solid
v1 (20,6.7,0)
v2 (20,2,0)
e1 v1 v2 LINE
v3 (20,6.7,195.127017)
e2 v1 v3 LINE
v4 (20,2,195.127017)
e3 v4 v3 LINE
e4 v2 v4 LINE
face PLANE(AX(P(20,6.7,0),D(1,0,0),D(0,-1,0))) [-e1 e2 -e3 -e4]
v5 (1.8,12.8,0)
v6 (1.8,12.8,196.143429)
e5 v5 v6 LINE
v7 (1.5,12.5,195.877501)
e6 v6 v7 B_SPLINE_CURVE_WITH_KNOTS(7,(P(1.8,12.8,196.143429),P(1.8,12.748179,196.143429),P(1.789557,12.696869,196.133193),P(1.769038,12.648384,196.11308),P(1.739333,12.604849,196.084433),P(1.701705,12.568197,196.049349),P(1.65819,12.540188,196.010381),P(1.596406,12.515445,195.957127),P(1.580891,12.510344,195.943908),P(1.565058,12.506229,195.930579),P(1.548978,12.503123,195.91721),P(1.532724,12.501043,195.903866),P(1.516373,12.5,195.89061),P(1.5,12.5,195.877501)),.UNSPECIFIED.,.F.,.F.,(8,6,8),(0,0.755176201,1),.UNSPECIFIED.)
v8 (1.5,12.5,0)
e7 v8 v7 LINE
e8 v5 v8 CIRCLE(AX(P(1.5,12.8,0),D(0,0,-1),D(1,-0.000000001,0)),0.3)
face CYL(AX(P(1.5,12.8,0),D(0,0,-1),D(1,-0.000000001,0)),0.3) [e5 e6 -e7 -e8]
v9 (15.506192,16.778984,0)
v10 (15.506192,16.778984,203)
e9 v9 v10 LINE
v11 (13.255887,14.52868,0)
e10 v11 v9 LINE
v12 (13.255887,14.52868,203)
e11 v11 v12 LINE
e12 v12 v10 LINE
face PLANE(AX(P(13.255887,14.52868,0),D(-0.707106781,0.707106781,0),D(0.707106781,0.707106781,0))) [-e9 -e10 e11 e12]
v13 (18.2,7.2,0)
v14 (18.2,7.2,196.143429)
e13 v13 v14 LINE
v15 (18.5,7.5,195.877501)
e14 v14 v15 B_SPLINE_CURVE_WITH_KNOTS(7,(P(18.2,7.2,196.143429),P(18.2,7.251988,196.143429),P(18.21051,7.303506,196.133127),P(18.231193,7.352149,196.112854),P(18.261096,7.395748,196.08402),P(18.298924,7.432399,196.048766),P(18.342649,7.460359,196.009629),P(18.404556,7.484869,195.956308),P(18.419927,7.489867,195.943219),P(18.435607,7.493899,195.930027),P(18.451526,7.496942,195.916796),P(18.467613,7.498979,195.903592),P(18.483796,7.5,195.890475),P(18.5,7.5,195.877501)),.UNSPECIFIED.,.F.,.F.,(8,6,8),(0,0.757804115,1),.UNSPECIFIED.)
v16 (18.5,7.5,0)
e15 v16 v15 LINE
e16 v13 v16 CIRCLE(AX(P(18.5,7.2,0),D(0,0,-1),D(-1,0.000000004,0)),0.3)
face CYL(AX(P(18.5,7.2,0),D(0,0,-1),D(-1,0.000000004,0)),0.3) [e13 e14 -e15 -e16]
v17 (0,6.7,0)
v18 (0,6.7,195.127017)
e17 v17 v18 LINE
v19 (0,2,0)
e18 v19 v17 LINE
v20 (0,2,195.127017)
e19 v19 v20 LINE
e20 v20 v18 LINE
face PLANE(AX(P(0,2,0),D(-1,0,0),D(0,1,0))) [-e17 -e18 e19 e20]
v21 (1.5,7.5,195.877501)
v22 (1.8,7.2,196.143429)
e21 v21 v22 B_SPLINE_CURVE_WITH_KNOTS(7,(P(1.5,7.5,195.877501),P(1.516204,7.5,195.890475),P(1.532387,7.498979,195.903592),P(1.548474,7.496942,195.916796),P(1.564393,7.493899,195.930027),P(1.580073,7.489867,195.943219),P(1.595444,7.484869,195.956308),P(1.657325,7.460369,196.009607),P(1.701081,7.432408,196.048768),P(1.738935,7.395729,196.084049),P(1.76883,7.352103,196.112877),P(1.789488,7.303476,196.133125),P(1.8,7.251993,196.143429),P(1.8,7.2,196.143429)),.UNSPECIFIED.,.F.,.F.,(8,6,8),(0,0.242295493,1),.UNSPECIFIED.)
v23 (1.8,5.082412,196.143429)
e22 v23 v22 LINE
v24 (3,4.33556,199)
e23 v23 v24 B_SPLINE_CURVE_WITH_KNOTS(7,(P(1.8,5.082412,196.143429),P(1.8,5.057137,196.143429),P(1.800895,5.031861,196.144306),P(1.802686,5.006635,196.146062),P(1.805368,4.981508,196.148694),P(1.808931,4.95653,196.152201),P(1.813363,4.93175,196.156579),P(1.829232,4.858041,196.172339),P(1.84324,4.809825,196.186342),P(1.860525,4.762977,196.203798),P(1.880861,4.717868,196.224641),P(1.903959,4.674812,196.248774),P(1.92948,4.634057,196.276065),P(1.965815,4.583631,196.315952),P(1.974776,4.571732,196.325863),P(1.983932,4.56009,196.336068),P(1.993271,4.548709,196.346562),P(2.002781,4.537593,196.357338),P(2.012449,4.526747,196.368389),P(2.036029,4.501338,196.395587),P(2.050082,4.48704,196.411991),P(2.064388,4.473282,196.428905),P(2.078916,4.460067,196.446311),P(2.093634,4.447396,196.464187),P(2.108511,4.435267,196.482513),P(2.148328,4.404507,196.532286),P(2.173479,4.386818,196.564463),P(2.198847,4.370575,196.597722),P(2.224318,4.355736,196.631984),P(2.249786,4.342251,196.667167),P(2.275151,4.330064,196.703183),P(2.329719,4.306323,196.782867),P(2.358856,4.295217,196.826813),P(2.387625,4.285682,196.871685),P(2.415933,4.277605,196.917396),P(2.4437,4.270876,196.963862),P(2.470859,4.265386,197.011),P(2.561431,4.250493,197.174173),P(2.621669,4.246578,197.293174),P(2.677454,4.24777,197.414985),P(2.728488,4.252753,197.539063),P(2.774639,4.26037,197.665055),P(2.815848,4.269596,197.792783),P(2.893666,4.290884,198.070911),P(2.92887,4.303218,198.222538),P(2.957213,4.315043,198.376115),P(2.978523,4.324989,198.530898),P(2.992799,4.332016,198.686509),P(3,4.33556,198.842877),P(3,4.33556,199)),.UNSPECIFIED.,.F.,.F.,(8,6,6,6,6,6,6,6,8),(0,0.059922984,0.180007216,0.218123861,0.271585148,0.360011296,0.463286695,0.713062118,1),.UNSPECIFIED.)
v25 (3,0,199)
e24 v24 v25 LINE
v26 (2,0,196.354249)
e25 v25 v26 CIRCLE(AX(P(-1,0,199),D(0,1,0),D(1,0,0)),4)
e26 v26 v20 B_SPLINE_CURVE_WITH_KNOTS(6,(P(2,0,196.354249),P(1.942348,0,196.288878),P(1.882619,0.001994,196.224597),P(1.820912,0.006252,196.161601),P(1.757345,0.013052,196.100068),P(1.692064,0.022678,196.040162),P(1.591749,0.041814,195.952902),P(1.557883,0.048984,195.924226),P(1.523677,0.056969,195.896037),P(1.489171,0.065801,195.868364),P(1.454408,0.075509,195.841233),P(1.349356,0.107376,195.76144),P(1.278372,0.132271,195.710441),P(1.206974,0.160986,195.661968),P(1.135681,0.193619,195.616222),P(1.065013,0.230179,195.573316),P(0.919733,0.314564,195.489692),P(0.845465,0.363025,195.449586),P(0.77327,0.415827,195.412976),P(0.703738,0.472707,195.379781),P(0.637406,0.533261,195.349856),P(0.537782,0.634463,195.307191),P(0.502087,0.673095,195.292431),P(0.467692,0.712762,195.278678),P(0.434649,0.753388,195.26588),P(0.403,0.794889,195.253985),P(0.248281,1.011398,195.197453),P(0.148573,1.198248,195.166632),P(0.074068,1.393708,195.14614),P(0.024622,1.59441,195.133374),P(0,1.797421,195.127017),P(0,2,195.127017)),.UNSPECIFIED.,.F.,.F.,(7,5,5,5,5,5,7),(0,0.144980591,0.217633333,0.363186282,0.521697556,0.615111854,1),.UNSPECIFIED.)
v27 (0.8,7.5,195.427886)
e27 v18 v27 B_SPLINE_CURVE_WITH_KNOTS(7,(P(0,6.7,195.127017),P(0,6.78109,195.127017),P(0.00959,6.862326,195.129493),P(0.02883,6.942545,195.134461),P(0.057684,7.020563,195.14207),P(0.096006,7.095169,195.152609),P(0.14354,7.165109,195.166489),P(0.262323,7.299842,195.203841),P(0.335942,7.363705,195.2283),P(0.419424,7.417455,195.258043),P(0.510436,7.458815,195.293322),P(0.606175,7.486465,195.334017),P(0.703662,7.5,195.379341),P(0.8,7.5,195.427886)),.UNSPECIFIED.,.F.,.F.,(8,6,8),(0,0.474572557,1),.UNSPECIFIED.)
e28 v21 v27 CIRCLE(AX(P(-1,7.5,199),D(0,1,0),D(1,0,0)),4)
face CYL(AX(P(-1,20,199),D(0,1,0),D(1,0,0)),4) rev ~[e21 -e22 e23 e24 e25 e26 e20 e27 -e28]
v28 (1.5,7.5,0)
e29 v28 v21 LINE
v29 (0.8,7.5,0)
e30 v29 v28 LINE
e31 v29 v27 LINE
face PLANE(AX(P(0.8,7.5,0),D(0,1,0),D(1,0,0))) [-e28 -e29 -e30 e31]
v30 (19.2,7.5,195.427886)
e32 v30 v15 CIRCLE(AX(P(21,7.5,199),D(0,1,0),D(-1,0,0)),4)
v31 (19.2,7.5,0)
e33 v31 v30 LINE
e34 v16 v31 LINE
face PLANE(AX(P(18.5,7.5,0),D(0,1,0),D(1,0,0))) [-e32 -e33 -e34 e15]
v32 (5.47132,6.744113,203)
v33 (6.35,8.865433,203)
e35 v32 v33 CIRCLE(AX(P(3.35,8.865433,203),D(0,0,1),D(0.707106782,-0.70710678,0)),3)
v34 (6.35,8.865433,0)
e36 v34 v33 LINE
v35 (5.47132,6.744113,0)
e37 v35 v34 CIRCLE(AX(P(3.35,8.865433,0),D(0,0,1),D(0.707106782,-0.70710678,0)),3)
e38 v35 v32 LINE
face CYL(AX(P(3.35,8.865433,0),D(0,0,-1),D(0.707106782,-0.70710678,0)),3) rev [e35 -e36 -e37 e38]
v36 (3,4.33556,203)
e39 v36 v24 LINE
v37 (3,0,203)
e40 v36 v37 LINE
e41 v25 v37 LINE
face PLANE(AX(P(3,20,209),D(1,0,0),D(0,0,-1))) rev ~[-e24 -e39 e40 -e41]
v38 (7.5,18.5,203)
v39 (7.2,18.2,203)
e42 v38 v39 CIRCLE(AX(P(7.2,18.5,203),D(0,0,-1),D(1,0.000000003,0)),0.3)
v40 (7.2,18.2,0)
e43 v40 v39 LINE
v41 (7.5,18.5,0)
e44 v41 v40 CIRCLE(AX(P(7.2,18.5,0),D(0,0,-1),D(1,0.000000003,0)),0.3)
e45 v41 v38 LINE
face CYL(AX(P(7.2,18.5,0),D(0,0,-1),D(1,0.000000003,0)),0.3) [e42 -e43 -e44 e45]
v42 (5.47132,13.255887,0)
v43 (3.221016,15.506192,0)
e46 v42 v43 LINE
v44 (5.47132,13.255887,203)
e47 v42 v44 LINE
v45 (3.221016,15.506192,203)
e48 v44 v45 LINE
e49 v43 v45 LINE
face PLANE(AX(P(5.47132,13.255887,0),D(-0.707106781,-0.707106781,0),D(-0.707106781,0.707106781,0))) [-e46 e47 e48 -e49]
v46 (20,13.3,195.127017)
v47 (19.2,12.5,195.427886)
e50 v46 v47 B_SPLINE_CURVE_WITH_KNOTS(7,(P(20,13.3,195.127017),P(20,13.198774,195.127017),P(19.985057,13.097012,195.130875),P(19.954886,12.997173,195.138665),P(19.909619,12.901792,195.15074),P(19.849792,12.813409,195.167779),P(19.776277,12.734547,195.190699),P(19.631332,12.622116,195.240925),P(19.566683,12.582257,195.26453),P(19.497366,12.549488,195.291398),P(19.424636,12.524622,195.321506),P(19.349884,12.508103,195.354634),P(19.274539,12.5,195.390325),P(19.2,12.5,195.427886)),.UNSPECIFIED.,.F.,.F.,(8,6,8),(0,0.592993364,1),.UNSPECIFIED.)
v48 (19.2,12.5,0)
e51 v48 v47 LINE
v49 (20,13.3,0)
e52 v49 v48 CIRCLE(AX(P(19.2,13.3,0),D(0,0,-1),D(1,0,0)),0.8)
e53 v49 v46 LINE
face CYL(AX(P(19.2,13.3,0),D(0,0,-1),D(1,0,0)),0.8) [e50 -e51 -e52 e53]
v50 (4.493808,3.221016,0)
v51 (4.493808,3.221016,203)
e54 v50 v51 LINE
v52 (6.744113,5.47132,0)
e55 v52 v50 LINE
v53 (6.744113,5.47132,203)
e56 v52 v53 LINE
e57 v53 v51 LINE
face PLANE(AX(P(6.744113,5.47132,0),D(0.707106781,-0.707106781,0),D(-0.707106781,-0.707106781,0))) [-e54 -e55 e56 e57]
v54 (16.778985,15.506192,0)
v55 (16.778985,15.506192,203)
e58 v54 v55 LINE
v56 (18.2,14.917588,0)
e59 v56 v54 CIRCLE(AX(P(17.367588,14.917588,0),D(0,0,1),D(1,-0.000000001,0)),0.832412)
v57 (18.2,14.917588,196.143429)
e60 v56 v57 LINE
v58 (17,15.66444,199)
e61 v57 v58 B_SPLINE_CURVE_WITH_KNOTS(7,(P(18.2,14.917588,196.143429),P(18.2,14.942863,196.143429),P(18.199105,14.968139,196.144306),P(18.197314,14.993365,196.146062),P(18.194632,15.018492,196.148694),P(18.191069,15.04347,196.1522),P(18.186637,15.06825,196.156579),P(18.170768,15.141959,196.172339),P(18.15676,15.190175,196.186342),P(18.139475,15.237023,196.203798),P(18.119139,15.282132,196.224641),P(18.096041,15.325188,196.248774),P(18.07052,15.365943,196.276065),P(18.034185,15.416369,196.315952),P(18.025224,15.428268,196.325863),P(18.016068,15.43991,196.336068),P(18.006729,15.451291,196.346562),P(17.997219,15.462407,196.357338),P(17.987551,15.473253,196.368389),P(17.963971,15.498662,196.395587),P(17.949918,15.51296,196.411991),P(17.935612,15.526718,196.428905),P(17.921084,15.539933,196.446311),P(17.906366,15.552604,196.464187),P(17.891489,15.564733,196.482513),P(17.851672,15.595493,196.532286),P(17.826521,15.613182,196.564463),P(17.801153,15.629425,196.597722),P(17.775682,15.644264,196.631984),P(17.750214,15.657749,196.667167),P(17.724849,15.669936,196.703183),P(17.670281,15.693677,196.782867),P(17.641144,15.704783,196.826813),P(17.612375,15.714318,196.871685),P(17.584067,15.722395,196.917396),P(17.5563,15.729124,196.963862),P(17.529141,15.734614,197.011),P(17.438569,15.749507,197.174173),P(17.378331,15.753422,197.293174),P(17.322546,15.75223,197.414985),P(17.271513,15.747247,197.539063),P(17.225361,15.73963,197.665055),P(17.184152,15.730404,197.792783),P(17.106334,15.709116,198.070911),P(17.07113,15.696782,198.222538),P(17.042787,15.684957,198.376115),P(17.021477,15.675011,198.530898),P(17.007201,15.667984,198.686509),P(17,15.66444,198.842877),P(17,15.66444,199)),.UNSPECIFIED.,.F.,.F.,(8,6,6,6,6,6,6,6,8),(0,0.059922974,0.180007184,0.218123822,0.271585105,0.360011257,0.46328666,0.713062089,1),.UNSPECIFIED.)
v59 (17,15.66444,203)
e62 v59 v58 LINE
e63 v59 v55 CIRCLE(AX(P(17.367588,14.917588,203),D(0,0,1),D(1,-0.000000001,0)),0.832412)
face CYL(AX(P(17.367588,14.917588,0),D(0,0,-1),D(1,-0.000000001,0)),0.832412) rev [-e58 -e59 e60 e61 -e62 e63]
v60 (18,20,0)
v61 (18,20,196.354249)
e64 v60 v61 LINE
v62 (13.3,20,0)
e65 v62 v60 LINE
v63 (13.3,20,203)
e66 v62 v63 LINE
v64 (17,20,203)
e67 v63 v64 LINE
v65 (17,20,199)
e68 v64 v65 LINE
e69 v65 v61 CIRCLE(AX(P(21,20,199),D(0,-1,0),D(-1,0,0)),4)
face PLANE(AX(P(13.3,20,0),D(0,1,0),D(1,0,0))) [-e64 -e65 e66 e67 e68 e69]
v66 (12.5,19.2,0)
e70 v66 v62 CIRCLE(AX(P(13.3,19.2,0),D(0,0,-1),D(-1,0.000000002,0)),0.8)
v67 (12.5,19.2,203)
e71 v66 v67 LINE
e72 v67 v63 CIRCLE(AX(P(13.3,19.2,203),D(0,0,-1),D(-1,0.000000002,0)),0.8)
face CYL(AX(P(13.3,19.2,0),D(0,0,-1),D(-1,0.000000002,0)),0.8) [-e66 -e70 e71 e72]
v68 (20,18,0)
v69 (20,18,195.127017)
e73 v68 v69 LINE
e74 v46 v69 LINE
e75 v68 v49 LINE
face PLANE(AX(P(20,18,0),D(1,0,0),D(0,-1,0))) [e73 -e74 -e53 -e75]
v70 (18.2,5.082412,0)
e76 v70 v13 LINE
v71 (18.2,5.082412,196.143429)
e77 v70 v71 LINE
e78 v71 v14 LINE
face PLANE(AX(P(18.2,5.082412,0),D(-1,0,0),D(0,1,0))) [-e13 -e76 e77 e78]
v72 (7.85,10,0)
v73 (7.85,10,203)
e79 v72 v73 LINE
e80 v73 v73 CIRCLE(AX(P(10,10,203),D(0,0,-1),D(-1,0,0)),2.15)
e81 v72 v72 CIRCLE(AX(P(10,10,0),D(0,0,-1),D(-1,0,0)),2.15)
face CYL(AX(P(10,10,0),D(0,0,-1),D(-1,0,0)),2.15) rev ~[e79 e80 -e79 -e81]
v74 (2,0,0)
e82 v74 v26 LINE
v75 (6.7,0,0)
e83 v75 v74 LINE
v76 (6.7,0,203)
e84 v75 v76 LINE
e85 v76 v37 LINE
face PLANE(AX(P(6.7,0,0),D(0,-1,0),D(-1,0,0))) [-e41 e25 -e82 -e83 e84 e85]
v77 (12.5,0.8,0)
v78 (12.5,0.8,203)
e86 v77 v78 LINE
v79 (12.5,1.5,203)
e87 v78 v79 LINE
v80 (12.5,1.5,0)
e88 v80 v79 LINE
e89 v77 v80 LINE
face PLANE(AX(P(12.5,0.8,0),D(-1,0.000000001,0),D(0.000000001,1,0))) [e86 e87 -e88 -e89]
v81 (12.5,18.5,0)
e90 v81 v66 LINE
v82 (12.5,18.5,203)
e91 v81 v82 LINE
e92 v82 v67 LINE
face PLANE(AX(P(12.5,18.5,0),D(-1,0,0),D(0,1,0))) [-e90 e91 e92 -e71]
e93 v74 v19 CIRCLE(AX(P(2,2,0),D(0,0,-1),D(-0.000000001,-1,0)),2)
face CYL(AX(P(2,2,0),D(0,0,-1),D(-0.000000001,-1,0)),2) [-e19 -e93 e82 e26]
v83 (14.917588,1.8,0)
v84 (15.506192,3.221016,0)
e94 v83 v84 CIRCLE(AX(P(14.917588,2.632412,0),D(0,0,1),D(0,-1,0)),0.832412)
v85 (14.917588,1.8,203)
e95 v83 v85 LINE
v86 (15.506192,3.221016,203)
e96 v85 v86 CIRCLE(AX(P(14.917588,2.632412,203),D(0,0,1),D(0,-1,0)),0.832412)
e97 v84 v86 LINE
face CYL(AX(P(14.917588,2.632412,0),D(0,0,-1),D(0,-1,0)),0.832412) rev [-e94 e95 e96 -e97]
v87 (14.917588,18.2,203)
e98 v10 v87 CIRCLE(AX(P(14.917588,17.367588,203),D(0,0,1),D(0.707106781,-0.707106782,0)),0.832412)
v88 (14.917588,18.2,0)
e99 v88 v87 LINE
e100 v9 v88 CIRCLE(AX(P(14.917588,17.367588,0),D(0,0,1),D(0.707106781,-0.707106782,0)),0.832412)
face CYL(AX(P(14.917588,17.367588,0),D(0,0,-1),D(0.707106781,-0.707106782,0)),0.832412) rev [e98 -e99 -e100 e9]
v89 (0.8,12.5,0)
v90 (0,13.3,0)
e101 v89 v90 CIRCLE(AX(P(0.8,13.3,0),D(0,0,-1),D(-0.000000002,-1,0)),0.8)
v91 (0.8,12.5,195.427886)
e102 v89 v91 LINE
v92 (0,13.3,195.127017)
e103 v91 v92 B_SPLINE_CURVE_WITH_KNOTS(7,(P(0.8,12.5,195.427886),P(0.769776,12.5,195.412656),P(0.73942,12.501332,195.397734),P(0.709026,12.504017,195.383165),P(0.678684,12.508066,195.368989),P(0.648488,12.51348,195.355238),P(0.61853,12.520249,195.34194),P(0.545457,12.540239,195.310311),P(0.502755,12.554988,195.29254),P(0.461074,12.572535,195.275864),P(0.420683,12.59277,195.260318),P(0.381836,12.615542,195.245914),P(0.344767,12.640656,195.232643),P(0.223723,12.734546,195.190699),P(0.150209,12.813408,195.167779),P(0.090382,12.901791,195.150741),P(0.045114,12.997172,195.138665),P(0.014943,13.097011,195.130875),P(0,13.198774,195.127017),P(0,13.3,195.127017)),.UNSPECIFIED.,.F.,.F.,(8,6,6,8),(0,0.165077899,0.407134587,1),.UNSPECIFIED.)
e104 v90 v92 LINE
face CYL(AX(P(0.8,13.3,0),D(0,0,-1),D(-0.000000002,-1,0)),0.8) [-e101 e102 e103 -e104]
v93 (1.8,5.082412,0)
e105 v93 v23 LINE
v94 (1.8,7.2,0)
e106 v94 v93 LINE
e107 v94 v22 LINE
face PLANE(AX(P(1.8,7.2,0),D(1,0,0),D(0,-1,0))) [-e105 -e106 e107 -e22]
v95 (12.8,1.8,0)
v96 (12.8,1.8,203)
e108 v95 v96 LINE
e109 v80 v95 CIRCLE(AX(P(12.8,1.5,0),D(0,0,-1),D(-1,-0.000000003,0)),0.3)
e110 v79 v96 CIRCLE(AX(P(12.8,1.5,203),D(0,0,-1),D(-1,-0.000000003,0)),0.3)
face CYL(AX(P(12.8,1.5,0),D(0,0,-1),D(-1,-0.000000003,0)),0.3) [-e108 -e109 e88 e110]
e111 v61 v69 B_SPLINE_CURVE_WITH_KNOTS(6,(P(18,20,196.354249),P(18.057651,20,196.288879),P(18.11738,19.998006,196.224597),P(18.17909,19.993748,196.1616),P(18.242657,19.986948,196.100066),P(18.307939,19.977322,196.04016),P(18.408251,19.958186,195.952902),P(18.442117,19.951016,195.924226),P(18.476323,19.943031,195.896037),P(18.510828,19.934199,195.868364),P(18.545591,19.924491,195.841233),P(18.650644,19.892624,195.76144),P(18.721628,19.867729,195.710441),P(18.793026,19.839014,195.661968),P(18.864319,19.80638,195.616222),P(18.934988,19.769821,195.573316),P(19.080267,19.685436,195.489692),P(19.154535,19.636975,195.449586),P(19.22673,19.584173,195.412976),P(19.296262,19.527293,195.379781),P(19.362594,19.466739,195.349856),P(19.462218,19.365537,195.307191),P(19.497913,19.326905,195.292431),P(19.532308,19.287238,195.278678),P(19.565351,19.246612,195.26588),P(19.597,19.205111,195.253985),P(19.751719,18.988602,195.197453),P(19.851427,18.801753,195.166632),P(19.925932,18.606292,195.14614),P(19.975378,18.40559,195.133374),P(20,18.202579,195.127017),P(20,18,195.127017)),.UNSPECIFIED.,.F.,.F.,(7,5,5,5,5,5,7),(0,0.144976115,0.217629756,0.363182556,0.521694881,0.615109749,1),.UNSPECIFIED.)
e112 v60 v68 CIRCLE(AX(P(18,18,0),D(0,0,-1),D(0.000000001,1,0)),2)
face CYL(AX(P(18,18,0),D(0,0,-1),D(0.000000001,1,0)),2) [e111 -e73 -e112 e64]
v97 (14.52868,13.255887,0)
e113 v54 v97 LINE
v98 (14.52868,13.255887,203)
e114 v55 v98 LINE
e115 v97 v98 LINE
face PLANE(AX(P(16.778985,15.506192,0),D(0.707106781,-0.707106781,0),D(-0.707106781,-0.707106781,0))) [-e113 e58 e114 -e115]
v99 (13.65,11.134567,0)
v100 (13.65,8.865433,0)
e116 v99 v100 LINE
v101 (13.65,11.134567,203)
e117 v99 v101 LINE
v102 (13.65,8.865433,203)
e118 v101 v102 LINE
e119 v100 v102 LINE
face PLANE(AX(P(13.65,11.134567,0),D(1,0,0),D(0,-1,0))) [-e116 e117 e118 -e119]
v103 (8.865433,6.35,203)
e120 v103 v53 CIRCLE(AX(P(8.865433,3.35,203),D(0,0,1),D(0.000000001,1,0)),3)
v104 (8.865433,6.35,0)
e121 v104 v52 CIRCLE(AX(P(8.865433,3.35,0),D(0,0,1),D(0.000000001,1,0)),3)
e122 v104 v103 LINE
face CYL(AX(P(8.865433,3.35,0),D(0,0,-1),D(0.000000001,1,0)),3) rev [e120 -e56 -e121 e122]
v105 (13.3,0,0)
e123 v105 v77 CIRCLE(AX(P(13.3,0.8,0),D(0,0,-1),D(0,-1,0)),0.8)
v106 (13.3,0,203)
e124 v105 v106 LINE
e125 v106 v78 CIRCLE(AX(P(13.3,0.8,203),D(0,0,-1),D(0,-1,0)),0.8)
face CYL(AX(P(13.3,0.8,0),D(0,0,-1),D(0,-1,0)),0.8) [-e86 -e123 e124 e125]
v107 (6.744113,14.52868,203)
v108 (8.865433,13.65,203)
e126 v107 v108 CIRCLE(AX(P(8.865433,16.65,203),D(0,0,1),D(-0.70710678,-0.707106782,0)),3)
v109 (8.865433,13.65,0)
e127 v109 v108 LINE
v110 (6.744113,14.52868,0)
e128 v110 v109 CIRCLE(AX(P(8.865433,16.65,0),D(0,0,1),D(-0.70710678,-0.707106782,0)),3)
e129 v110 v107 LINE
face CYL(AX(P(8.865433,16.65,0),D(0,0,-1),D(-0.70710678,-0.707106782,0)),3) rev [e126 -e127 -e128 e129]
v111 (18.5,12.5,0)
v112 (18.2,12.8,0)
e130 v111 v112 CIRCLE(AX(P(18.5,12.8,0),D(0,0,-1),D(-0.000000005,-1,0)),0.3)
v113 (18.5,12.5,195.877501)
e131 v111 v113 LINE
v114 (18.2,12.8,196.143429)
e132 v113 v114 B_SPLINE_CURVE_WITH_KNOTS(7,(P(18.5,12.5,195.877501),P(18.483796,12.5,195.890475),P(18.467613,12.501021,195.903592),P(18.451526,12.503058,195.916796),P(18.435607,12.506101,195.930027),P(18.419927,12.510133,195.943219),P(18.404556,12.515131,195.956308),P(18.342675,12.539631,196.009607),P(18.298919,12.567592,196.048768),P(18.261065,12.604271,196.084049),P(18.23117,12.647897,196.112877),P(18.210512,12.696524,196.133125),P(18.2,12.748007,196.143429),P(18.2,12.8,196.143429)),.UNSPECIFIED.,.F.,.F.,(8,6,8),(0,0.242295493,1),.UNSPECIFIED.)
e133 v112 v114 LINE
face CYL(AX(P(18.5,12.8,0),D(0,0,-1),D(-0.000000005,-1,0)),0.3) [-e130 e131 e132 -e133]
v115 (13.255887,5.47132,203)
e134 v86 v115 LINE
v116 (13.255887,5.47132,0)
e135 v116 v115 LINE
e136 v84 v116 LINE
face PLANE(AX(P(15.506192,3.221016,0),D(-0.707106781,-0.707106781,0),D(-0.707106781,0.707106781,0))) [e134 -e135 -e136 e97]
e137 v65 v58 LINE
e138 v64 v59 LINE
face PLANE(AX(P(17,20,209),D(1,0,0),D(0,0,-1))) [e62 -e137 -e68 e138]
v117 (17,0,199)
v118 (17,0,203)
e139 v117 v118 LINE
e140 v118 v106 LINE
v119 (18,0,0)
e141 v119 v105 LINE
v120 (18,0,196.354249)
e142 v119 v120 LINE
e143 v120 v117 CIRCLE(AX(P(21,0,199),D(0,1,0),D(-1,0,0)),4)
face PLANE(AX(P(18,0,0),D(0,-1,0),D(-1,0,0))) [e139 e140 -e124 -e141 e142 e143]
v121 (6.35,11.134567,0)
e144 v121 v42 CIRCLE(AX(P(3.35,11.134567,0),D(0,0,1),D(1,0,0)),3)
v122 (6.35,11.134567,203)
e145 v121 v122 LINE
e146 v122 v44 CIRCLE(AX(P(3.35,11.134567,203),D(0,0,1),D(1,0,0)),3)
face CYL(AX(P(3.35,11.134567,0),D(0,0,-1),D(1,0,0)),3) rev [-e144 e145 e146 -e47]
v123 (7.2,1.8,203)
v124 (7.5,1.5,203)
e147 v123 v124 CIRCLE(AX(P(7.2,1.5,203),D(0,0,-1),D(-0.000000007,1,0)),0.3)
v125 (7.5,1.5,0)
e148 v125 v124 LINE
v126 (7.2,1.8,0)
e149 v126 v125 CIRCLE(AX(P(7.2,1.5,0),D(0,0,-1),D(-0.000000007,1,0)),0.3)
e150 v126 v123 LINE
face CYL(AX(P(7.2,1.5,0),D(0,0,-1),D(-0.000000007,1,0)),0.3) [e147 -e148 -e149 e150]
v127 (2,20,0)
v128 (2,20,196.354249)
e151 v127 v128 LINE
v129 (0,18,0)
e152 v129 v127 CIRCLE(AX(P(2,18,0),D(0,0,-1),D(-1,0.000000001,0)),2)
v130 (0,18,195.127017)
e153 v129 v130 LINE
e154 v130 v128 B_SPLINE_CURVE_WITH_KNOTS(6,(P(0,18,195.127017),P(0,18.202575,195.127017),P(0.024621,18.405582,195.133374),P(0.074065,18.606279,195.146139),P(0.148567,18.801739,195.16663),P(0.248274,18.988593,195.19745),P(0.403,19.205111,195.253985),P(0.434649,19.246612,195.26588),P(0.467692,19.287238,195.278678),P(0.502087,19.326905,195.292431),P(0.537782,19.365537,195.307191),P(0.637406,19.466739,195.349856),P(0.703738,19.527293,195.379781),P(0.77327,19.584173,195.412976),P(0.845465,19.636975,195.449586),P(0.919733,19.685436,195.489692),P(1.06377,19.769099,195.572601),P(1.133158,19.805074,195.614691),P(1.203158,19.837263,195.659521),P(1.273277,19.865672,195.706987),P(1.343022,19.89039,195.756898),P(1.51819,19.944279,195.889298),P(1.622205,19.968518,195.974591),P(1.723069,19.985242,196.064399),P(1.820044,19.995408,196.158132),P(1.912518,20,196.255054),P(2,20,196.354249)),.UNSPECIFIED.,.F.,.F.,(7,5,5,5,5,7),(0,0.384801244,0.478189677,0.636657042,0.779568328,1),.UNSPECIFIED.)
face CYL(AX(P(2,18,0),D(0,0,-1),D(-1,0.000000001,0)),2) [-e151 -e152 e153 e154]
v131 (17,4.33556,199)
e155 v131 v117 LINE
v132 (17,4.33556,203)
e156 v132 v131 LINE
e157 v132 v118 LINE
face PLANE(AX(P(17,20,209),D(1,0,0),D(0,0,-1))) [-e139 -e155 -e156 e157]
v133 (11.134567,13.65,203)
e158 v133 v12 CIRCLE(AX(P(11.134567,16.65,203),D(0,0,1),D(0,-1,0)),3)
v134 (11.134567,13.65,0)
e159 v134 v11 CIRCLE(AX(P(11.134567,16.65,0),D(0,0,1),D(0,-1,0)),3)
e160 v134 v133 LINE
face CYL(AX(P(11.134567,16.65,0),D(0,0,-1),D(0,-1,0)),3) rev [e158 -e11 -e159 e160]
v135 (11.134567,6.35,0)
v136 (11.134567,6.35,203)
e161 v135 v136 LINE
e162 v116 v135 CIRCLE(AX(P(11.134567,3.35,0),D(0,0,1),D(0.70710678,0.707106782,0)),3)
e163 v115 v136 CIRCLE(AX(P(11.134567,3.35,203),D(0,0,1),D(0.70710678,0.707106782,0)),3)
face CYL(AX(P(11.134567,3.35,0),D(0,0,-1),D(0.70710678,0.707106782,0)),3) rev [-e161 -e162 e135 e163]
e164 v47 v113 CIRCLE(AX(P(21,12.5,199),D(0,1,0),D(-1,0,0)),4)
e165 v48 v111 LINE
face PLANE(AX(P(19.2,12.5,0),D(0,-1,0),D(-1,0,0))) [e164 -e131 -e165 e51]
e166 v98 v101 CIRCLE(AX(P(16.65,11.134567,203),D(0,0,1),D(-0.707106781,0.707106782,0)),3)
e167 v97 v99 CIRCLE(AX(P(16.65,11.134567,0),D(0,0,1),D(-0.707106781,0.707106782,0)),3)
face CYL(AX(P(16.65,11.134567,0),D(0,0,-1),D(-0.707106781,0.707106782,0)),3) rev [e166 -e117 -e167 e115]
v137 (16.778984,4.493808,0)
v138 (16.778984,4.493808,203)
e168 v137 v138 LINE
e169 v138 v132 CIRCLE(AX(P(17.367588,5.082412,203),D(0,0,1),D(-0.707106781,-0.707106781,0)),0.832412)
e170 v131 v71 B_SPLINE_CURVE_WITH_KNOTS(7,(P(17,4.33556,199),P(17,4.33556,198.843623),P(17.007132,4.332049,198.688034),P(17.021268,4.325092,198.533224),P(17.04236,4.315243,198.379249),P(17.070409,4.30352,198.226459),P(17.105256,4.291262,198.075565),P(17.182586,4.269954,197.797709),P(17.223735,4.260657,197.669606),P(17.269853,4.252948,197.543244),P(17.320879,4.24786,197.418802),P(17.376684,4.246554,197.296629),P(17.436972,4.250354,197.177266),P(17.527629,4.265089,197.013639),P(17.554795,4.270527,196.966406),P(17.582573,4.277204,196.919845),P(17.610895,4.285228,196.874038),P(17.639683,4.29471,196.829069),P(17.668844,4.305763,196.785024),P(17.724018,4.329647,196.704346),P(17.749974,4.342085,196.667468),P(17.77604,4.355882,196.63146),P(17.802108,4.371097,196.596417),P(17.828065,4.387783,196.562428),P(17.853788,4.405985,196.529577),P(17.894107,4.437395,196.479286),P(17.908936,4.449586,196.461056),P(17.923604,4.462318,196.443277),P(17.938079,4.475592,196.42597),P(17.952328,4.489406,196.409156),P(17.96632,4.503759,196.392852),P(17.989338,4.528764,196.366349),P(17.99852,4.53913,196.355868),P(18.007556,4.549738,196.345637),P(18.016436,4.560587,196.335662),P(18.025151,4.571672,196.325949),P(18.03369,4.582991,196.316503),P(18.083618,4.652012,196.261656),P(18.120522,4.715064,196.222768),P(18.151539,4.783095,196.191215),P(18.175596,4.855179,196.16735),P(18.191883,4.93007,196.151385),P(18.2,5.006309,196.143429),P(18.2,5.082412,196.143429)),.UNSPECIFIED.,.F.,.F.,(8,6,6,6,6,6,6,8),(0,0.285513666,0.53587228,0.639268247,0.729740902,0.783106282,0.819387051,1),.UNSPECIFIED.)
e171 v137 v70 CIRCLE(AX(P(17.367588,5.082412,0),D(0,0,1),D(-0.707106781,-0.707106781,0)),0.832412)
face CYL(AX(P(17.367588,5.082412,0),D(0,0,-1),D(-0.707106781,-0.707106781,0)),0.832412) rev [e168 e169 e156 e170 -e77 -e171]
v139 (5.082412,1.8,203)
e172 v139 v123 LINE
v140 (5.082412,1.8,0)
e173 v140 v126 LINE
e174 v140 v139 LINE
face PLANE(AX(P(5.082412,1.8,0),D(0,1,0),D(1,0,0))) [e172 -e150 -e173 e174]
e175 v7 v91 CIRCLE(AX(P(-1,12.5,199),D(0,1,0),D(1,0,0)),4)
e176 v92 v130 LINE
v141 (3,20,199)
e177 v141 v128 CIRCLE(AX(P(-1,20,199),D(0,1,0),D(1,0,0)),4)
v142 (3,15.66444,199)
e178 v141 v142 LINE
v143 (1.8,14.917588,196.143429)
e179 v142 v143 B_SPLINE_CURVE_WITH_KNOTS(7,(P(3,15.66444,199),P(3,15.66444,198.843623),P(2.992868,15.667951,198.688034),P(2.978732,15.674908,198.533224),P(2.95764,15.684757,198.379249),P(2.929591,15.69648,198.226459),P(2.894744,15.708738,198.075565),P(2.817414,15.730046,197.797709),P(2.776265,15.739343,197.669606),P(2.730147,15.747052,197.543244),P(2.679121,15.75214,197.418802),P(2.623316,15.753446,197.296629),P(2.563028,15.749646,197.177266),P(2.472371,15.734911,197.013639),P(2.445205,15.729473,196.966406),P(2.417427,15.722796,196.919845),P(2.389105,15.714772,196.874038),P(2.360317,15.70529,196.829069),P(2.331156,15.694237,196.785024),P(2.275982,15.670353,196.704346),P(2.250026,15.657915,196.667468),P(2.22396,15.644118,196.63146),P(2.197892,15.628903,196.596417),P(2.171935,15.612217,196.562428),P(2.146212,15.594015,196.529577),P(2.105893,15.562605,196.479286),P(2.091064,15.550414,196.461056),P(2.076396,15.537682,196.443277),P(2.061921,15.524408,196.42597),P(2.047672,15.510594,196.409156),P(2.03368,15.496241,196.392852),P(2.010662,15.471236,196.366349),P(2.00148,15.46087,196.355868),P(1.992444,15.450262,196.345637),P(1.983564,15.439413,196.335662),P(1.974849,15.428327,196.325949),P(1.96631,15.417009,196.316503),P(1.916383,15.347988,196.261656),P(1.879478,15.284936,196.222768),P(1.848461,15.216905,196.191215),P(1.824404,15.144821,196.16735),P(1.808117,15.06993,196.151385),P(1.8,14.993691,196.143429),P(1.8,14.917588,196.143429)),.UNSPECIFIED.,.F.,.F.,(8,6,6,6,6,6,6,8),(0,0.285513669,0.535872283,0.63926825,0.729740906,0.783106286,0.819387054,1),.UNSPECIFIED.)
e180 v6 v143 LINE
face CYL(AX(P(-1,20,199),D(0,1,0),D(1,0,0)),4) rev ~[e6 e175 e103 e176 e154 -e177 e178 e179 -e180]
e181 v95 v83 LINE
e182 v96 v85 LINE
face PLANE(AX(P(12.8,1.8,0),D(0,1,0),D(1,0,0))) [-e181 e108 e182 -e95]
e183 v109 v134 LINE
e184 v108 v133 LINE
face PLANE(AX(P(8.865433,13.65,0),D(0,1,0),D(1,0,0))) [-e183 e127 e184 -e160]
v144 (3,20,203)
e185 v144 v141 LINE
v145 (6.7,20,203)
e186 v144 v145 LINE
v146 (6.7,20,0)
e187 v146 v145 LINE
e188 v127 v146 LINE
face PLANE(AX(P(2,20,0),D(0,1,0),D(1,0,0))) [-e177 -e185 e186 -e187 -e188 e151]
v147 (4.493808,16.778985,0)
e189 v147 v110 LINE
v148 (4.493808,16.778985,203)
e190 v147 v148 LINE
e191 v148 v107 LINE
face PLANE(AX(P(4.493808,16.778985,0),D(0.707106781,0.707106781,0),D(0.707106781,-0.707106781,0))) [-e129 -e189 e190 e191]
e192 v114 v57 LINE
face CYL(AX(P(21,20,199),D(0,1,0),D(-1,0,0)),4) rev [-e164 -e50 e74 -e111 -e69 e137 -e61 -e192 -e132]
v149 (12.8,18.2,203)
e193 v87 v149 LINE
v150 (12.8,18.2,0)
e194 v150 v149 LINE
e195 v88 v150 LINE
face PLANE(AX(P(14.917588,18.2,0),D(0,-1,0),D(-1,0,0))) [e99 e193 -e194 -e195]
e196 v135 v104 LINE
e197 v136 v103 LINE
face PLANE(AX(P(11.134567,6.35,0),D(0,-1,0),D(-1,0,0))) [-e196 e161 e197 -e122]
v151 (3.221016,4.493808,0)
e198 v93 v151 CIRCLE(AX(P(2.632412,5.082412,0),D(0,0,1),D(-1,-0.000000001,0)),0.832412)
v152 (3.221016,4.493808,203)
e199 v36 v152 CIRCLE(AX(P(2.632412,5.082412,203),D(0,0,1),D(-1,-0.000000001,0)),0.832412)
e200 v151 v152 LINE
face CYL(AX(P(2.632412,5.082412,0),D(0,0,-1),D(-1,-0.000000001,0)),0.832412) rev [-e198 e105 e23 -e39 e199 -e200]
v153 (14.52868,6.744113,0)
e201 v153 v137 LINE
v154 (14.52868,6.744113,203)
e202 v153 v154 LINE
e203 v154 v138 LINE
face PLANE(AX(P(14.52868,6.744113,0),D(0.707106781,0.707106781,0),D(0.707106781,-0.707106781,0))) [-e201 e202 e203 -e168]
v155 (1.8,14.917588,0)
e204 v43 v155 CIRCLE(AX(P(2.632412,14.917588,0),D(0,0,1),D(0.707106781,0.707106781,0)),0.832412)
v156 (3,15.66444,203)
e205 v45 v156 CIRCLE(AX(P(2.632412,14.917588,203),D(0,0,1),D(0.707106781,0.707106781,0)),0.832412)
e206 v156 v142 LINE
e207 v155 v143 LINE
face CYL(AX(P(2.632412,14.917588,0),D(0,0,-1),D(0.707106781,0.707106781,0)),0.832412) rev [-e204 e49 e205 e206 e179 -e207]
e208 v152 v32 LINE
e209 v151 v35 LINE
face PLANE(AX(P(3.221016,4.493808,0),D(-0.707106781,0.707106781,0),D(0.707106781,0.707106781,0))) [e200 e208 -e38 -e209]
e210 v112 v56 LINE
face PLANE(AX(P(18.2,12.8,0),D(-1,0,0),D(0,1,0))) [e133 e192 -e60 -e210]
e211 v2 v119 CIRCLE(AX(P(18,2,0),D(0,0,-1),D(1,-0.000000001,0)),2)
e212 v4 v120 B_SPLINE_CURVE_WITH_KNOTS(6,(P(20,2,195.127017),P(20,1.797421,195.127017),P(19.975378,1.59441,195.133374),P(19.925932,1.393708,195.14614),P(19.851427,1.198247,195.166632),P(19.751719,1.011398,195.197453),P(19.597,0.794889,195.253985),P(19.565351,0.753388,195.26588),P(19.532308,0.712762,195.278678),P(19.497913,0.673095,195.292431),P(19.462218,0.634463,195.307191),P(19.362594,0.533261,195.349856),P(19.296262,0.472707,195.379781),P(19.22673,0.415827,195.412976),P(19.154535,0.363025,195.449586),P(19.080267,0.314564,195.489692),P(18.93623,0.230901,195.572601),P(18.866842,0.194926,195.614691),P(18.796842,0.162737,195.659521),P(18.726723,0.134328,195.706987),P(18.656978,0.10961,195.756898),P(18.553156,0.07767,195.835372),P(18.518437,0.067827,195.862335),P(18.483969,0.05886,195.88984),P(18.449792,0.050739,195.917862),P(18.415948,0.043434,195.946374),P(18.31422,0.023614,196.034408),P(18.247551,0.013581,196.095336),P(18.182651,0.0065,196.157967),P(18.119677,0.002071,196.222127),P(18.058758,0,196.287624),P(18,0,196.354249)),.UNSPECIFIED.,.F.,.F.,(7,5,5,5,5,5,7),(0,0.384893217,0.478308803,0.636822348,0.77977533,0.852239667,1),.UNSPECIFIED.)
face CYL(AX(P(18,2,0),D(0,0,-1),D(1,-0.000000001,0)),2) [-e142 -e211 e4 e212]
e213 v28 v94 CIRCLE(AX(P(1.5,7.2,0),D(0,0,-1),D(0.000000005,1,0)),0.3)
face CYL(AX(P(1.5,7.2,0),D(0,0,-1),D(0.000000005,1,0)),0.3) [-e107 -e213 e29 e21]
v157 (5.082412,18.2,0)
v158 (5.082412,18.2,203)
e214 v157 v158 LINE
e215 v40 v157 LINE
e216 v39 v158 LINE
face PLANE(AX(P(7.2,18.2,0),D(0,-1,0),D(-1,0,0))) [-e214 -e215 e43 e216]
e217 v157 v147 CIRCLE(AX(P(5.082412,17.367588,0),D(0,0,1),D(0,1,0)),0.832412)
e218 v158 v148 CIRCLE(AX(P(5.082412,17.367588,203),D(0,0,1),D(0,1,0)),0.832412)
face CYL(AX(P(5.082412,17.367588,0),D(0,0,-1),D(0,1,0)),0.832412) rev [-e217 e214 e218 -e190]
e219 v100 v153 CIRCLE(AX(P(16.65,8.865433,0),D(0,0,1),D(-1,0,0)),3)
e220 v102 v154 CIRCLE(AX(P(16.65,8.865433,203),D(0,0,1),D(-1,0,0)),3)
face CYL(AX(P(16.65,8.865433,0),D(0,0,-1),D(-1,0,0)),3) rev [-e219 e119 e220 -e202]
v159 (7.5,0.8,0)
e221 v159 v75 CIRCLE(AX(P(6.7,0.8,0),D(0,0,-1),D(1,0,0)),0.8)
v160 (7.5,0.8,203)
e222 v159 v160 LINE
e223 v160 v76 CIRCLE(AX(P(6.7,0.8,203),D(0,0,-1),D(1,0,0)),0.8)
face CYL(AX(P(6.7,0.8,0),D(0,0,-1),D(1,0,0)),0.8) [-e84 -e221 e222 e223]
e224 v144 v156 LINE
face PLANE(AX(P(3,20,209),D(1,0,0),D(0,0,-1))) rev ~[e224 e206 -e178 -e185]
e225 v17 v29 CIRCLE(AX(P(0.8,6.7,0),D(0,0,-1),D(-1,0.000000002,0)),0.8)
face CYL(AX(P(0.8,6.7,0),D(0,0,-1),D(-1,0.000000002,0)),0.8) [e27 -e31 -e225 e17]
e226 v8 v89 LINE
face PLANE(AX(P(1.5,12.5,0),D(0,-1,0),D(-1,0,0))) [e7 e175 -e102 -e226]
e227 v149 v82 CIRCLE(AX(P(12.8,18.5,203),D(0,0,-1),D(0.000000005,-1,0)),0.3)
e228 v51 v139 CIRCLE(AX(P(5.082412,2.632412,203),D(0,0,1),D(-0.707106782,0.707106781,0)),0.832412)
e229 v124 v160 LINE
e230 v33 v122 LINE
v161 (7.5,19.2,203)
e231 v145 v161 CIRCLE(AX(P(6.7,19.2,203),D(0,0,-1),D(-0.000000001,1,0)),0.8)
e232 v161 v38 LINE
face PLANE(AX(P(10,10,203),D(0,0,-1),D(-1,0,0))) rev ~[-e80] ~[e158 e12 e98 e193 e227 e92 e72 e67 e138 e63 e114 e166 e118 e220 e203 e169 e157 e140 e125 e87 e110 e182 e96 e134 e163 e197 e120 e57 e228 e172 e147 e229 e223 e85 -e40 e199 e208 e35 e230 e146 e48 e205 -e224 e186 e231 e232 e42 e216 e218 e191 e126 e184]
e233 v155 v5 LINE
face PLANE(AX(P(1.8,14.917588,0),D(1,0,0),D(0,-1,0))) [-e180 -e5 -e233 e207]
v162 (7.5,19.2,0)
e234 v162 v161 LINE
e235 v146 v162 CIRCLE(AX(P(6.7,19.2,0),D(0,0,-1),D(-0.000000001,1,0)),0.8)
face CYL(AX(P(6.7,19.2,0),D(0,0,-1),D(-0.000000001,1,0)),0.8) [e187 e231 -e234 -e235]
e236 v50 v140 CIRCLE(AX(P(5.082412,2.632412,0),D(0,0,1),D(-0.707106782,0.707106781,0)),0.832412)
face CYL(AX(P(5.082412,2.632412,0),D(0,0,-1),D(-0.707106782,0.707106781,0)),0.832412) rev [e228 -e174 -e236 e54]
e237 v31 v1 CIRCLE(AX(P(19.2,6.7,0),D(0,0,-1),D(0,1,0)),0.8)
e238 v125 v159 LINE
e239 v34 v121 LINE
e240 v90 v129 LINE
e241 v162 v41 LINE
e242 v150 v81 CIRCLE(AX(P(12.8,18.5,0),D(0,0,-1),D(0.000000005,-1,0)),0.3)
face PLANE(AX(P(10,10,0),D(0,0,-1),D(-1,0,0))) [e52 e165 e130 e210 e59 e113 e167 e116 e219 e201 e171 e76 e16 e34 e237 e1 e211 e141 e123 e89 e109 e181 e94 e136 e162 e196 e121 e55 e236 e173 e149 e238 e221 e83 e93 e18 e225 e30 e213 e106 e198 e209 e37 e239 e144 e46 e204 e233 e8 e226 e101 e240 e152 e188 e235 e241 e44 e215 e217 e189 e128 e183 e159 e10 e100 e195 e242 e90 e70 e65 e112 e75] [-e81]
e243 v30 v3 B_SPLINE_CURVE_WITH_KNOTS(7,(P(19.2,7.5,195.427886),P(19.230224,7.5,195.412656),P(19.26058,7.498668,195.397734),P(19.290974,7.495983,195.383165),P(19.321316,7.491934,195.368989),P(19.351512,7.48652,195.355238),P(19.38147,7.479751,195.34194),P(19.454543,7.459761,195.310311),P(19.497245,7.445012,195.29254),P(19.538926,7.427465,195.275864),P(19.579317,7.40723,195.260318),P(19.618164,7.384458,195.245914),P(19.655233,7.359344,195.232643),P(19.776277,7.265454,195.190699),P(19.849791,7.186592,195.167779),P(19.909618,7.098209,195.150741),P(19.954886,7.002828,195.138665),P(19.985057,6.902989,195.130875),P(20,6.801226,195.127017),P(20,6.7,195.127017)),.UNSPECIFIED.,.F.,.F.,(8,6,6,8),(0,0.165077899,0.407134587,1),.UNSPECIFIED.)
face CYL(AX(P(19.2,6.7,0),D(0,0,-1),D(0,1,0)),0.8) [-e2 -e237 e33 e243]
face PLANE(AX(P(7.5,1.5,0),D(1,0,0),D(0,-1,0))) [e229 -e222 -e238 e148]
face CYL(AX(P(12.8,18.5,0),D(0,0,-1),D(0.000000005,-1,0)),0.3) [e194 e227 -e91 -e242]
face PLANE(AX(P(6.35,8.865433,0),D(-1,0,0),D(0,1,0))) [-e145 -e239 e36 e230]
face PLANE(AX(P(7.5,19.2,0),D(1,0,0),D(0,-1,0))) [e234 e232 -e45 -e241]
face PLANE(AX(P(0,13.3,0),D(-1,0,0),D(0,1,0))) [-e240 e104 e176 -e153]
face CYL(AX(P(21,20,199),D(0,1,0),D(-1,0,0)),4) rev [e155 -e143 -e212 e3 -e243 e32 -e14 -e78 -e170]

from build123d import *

# Parameters (mm, degrees)
ESQUISSE1_R             = 2.15
BOSS_EXTRU_1_DEPTH      = 203
ENL_V_MAT_EXTRU_1_DEPTH = 205.960971895


with BuildPart() as part:
    # Esquisse1 → Boss.-Extru.1 (new body)
    with BuildSketch(Plane(origin=(0, 0, 0), x_dir=(-1, 0, 0), z_dir=(0, 0, -1))):
        with BuildLine():
            Line((-12.499999997, 0.800000003), (-12.499999998, 1.500000003))
            ThreePointArc((-12.499999998, 1.500000003), (-12.587867964, 1.712132039), (-12.8, 1.800000005))
            Line((-12.8, 1.800000005), (-14.9175884, 1.800000005))
            ThreePointArc((-14.9175884, 1.800000005), (-15.686636444, 2.31386148), (-15.50619229, 3.2210155))
            Line((-15.50619229, 3.2210155), (-13.25588745, 5.47132034))
            ThreePointArc((-13.25588745, 5.47132034), (-12.282617404, 6.121638593), (-11.134567108, 6.349999996))
            Line((-11.134567108, 6.349999996), (-8.865432907, 6.349999996))
            ThreePointArc((-8.865432907, 6.349999996), (-7.717382611, 6.121638594), (-6.744112567, 5.471320341))
            Line((-6.744112567, 5.471320341), (-4.493807729, 3.221015503))
            ThreePointArc((-4.493807729, 3.221015503), (-4.313363575, 2.313861481), (-5.082411621, 1.800000005))
            Line((-5.082411621, 1.800000005), (-7.20000001, 1.800000005))
            ThreePointArc((-7.20000001, 1.800000005), (-7.412132045, 1.71213204), (-7.50000001, 1.500000005))
            Line((-7.50000001, 1.500000005), (-7.50000001, 0.8))
            ThreePointArc((-7.50000001, 0.8), (-7.265685435, 0.234314575), (-6.70000001, 0))
            Line((-6.70000001, 0), (-2, 0))
            ThreePointArc((-2, 0), (-0.585786438, 0.585786438), (0, 2))
            Line((0, 2), (0, 6.699999998))
            ThreePointArc((0, 6.699999998), (-0.234314576, 7.265685424), (-0.800000003, 7.5))
            Line((-0.800000003, 7.5), (-1.50000001, 7.5))
            ThreePointArc((-1.50000001, 7.5), (-1.712132046, 7.412132033), (-1.800000013, 7.199999997))
            Line((-1.800000013, 7.199999997), (-1.800000013, 5.082411603))
            ThreePointArc((-1.800000013, 5.082411603), (-2.313861487, 4.31336356), (-3.221015507, 4.493807713))
            Line((-3.221015507, 4.493807713), (-5.471320347, 6.744112553))
            ThreePointArc((-5.471320347, 6.744112553), (-6.1216386, 7.717382599), (-6.350000003, 8.865432896))
            Line((-6.350000003, 8.865432896), (-6.350000003, 11.134567102))
            ThreePointArc((-6.350000003, 11.134567102), (-6.121638601, 12.282617397), (-5.471320348, 13.255887442))
            Line((-5.471320348, 13.255887442), (-3.221015512, 15.506192278))
            ThreePointArc((-3.221015512, 15.506192278), (-2.313861489, 15.686636432), (-1.800000013, 14.917588386))
            Line((-1.800000013, 14.917588386), (-1.800000013, 12.799999998))
            ThreePointArc((-1.800000013, 12.799999998), (-1.712132047, 12.587867963), (-1.500000013, 12.499999997))
            Line((-1.500000013, 12.499999997), (-0.8, 12.499999997))
            ThreePointArc((-0.8, 12.499999997), (-0.234314575, 12.734314573), (0, 13.299999998))
            Line((0, 13.299999998), (0, 18))
            ThreePointArc((0, 18), (-0.585786438, 19.414213562), (-2, 20))
            Line((-2, 20), (-6.700000008, 20))
            ThreePointArc((-6.700000008, 20), (-7.265685435, 19.765685424), (-7.50000001, 19.199999998))
            Line((-7.50000001, 19.199999998), (-7.50000001, 18.500000005))
            ThreePointArc((-7.50000001, 18.500000005), (-7.412132044, 18.287867969), (-7.200000008, 18.200000003))
            Line((-7.200000008, 18.200000003), (-5.082411594, 18.200000003))
            ThreePointArc((-5.082411594, 18.200000003), (-4.313363546, 17.686138526), (-4.493807701, 16.778984501))
            Line((-4.493807701, 16.778984501), (-6.744112542, 14.528679659))
            ThreePointArc((-6.744112542, 14.528679659), (-7.717382588, 13.878361406), (-8.865432885, 13.650000003))
            Line((-8.865432885, 13.650000003), (-11.134567112, 13.650000003))
            ThreePointArc((-11.134567112, 13.650000003), (-12.282617407, 13.878361405), (-13.255887452, 14.528679658))
            Line((-13.255887452, 14.528679658), (-15.506192292, 16.778984498))
            ThreePointArc((-15.506192292, 16.778984498), (-15.686636447, 17.686138525), (-14.917588397, 18.200000002))
            Line((-14.917588397, 18.200000002), (-12.799999998, 18.200000003))
            ThreePointArc((-12.799999998, 18.200000003), (-12.587867963, 18.287867968), (-12.499999997, 18.500000002))
            Line((-12.499999997, 18.500000002), (-12.499999997, 19.2))
            ThreePointArc((-12.499999997, 19.2), (-12.734314573, 19.765685425), (-13.299999998, 20))
            Line((-13.299999998, 20), (-18, 20))
            ThreePointArc((-18, 20), (-19.414213562, 19.414213562), (-20, 18))
            Line((-20, 18), (-20, 13.3))
            ThreePointArc((-20, 13.3), (-19.765685424, 12.734314573), (-19.199999998, 12.499999997))
            Line((-19.199999998, 12.499999997), (-18.500000003, 12.499999997))
            ThreePointArc((-18.500000003, 12.499999997), (-18.287867967, 12.587867964), (-18.2, 12.8))
            Line((-18.2, 12.8), (-18.2, 14.91758839))
            ThreePointArc((-18.2, 14.91758839), (-17.686138526, 15.686636434), (-16.778984506, 15.50619228))
            Line((-16.778984506, 15.50619228), (-14.528679657, 13.255887431))
            ThreePointArc((-14.528679657, 13.255887431), (-13.878361403, 12.282617385), (-13.650000001, 11.134567088))
            Line((-13.650000001, 11.134567088), (-13.650000001, 8.865432886))
            ThreePointArc((-13.650000001, 8.865432886), (-13.878361403, 7.717382591), (-14.528679656, 6.744112546))
            Line((-14.528679656, 6.744112546), (-16.778984496, 4.493807706))
            ThreePointArc((-16.778984496, 4.493807706), (-17.686138522, 4.313363551), (-18.2, 5.0824116))
            Line((-18.2, 5.0824116), (-18.2, 7.2))
            ThreePointArc((-18.2, 7.2), (-18.287867966, 7.412132034), (-18.5, 7.5))
            Line((-18.5, 7.5), (-19.2, 7.5))
            ThreePointArc((-19.2, 7.5), (-19.765685425, 7.265685425), (-20, 6.7))
            Line((-20, 6.7), (-20, 2))
            ThreePointArc((-20, 2), (-19.414213562, 0.585786438), (-18, 0))
            Line((-18, 0), (-13.3, 0))
            ThreePointArc((-13.3, 0), (-12.734314573, 0.234314576), (-12.499999997, 0.800000003))
        make_face()
        with Locations((-10, 10)):
            Circle(ESQUISSE1_R, mode=Mode.SUBTRACT)
    extrude(amount=-BOSS_EXTRU_1_DEPTH)

    # Esquisse2 → Enlèv. mat.-Extru.1 (cut, through all)
    with BuildSketch(Plane(origin=(0, 20, 0), x_dir=(1, 0, 0), z_dir=(0, 1, 0))):
        with BuildLine():
            Line((25, -199), (25, -209))
            ThreePointArc((25, -209), (21, -213), (17, -209))
            Line((17, -209), (17, -199))
            ThreePointArc((17, -199), (21, -195), (25, -199))
        make_face()
        with BuildLine():
            Line((-5.000000003, -199), (-5.000000003, -209))
            ThreePointArc((-5.000000003, -209), (-1.000000003, -213), (2.999999997, -209))
            Line((2.999999997, -209), (2.999999997, -199))
            ThreePointArc((2.999999997, -199), (-1.000000003, -195), (-5.000000003, -199))
        make_face()
    extrude(amount=-ENL_V_MAT_EXTRU_1_DEPTH, mode=Mode.SUBTRACT)


solid = part.part
